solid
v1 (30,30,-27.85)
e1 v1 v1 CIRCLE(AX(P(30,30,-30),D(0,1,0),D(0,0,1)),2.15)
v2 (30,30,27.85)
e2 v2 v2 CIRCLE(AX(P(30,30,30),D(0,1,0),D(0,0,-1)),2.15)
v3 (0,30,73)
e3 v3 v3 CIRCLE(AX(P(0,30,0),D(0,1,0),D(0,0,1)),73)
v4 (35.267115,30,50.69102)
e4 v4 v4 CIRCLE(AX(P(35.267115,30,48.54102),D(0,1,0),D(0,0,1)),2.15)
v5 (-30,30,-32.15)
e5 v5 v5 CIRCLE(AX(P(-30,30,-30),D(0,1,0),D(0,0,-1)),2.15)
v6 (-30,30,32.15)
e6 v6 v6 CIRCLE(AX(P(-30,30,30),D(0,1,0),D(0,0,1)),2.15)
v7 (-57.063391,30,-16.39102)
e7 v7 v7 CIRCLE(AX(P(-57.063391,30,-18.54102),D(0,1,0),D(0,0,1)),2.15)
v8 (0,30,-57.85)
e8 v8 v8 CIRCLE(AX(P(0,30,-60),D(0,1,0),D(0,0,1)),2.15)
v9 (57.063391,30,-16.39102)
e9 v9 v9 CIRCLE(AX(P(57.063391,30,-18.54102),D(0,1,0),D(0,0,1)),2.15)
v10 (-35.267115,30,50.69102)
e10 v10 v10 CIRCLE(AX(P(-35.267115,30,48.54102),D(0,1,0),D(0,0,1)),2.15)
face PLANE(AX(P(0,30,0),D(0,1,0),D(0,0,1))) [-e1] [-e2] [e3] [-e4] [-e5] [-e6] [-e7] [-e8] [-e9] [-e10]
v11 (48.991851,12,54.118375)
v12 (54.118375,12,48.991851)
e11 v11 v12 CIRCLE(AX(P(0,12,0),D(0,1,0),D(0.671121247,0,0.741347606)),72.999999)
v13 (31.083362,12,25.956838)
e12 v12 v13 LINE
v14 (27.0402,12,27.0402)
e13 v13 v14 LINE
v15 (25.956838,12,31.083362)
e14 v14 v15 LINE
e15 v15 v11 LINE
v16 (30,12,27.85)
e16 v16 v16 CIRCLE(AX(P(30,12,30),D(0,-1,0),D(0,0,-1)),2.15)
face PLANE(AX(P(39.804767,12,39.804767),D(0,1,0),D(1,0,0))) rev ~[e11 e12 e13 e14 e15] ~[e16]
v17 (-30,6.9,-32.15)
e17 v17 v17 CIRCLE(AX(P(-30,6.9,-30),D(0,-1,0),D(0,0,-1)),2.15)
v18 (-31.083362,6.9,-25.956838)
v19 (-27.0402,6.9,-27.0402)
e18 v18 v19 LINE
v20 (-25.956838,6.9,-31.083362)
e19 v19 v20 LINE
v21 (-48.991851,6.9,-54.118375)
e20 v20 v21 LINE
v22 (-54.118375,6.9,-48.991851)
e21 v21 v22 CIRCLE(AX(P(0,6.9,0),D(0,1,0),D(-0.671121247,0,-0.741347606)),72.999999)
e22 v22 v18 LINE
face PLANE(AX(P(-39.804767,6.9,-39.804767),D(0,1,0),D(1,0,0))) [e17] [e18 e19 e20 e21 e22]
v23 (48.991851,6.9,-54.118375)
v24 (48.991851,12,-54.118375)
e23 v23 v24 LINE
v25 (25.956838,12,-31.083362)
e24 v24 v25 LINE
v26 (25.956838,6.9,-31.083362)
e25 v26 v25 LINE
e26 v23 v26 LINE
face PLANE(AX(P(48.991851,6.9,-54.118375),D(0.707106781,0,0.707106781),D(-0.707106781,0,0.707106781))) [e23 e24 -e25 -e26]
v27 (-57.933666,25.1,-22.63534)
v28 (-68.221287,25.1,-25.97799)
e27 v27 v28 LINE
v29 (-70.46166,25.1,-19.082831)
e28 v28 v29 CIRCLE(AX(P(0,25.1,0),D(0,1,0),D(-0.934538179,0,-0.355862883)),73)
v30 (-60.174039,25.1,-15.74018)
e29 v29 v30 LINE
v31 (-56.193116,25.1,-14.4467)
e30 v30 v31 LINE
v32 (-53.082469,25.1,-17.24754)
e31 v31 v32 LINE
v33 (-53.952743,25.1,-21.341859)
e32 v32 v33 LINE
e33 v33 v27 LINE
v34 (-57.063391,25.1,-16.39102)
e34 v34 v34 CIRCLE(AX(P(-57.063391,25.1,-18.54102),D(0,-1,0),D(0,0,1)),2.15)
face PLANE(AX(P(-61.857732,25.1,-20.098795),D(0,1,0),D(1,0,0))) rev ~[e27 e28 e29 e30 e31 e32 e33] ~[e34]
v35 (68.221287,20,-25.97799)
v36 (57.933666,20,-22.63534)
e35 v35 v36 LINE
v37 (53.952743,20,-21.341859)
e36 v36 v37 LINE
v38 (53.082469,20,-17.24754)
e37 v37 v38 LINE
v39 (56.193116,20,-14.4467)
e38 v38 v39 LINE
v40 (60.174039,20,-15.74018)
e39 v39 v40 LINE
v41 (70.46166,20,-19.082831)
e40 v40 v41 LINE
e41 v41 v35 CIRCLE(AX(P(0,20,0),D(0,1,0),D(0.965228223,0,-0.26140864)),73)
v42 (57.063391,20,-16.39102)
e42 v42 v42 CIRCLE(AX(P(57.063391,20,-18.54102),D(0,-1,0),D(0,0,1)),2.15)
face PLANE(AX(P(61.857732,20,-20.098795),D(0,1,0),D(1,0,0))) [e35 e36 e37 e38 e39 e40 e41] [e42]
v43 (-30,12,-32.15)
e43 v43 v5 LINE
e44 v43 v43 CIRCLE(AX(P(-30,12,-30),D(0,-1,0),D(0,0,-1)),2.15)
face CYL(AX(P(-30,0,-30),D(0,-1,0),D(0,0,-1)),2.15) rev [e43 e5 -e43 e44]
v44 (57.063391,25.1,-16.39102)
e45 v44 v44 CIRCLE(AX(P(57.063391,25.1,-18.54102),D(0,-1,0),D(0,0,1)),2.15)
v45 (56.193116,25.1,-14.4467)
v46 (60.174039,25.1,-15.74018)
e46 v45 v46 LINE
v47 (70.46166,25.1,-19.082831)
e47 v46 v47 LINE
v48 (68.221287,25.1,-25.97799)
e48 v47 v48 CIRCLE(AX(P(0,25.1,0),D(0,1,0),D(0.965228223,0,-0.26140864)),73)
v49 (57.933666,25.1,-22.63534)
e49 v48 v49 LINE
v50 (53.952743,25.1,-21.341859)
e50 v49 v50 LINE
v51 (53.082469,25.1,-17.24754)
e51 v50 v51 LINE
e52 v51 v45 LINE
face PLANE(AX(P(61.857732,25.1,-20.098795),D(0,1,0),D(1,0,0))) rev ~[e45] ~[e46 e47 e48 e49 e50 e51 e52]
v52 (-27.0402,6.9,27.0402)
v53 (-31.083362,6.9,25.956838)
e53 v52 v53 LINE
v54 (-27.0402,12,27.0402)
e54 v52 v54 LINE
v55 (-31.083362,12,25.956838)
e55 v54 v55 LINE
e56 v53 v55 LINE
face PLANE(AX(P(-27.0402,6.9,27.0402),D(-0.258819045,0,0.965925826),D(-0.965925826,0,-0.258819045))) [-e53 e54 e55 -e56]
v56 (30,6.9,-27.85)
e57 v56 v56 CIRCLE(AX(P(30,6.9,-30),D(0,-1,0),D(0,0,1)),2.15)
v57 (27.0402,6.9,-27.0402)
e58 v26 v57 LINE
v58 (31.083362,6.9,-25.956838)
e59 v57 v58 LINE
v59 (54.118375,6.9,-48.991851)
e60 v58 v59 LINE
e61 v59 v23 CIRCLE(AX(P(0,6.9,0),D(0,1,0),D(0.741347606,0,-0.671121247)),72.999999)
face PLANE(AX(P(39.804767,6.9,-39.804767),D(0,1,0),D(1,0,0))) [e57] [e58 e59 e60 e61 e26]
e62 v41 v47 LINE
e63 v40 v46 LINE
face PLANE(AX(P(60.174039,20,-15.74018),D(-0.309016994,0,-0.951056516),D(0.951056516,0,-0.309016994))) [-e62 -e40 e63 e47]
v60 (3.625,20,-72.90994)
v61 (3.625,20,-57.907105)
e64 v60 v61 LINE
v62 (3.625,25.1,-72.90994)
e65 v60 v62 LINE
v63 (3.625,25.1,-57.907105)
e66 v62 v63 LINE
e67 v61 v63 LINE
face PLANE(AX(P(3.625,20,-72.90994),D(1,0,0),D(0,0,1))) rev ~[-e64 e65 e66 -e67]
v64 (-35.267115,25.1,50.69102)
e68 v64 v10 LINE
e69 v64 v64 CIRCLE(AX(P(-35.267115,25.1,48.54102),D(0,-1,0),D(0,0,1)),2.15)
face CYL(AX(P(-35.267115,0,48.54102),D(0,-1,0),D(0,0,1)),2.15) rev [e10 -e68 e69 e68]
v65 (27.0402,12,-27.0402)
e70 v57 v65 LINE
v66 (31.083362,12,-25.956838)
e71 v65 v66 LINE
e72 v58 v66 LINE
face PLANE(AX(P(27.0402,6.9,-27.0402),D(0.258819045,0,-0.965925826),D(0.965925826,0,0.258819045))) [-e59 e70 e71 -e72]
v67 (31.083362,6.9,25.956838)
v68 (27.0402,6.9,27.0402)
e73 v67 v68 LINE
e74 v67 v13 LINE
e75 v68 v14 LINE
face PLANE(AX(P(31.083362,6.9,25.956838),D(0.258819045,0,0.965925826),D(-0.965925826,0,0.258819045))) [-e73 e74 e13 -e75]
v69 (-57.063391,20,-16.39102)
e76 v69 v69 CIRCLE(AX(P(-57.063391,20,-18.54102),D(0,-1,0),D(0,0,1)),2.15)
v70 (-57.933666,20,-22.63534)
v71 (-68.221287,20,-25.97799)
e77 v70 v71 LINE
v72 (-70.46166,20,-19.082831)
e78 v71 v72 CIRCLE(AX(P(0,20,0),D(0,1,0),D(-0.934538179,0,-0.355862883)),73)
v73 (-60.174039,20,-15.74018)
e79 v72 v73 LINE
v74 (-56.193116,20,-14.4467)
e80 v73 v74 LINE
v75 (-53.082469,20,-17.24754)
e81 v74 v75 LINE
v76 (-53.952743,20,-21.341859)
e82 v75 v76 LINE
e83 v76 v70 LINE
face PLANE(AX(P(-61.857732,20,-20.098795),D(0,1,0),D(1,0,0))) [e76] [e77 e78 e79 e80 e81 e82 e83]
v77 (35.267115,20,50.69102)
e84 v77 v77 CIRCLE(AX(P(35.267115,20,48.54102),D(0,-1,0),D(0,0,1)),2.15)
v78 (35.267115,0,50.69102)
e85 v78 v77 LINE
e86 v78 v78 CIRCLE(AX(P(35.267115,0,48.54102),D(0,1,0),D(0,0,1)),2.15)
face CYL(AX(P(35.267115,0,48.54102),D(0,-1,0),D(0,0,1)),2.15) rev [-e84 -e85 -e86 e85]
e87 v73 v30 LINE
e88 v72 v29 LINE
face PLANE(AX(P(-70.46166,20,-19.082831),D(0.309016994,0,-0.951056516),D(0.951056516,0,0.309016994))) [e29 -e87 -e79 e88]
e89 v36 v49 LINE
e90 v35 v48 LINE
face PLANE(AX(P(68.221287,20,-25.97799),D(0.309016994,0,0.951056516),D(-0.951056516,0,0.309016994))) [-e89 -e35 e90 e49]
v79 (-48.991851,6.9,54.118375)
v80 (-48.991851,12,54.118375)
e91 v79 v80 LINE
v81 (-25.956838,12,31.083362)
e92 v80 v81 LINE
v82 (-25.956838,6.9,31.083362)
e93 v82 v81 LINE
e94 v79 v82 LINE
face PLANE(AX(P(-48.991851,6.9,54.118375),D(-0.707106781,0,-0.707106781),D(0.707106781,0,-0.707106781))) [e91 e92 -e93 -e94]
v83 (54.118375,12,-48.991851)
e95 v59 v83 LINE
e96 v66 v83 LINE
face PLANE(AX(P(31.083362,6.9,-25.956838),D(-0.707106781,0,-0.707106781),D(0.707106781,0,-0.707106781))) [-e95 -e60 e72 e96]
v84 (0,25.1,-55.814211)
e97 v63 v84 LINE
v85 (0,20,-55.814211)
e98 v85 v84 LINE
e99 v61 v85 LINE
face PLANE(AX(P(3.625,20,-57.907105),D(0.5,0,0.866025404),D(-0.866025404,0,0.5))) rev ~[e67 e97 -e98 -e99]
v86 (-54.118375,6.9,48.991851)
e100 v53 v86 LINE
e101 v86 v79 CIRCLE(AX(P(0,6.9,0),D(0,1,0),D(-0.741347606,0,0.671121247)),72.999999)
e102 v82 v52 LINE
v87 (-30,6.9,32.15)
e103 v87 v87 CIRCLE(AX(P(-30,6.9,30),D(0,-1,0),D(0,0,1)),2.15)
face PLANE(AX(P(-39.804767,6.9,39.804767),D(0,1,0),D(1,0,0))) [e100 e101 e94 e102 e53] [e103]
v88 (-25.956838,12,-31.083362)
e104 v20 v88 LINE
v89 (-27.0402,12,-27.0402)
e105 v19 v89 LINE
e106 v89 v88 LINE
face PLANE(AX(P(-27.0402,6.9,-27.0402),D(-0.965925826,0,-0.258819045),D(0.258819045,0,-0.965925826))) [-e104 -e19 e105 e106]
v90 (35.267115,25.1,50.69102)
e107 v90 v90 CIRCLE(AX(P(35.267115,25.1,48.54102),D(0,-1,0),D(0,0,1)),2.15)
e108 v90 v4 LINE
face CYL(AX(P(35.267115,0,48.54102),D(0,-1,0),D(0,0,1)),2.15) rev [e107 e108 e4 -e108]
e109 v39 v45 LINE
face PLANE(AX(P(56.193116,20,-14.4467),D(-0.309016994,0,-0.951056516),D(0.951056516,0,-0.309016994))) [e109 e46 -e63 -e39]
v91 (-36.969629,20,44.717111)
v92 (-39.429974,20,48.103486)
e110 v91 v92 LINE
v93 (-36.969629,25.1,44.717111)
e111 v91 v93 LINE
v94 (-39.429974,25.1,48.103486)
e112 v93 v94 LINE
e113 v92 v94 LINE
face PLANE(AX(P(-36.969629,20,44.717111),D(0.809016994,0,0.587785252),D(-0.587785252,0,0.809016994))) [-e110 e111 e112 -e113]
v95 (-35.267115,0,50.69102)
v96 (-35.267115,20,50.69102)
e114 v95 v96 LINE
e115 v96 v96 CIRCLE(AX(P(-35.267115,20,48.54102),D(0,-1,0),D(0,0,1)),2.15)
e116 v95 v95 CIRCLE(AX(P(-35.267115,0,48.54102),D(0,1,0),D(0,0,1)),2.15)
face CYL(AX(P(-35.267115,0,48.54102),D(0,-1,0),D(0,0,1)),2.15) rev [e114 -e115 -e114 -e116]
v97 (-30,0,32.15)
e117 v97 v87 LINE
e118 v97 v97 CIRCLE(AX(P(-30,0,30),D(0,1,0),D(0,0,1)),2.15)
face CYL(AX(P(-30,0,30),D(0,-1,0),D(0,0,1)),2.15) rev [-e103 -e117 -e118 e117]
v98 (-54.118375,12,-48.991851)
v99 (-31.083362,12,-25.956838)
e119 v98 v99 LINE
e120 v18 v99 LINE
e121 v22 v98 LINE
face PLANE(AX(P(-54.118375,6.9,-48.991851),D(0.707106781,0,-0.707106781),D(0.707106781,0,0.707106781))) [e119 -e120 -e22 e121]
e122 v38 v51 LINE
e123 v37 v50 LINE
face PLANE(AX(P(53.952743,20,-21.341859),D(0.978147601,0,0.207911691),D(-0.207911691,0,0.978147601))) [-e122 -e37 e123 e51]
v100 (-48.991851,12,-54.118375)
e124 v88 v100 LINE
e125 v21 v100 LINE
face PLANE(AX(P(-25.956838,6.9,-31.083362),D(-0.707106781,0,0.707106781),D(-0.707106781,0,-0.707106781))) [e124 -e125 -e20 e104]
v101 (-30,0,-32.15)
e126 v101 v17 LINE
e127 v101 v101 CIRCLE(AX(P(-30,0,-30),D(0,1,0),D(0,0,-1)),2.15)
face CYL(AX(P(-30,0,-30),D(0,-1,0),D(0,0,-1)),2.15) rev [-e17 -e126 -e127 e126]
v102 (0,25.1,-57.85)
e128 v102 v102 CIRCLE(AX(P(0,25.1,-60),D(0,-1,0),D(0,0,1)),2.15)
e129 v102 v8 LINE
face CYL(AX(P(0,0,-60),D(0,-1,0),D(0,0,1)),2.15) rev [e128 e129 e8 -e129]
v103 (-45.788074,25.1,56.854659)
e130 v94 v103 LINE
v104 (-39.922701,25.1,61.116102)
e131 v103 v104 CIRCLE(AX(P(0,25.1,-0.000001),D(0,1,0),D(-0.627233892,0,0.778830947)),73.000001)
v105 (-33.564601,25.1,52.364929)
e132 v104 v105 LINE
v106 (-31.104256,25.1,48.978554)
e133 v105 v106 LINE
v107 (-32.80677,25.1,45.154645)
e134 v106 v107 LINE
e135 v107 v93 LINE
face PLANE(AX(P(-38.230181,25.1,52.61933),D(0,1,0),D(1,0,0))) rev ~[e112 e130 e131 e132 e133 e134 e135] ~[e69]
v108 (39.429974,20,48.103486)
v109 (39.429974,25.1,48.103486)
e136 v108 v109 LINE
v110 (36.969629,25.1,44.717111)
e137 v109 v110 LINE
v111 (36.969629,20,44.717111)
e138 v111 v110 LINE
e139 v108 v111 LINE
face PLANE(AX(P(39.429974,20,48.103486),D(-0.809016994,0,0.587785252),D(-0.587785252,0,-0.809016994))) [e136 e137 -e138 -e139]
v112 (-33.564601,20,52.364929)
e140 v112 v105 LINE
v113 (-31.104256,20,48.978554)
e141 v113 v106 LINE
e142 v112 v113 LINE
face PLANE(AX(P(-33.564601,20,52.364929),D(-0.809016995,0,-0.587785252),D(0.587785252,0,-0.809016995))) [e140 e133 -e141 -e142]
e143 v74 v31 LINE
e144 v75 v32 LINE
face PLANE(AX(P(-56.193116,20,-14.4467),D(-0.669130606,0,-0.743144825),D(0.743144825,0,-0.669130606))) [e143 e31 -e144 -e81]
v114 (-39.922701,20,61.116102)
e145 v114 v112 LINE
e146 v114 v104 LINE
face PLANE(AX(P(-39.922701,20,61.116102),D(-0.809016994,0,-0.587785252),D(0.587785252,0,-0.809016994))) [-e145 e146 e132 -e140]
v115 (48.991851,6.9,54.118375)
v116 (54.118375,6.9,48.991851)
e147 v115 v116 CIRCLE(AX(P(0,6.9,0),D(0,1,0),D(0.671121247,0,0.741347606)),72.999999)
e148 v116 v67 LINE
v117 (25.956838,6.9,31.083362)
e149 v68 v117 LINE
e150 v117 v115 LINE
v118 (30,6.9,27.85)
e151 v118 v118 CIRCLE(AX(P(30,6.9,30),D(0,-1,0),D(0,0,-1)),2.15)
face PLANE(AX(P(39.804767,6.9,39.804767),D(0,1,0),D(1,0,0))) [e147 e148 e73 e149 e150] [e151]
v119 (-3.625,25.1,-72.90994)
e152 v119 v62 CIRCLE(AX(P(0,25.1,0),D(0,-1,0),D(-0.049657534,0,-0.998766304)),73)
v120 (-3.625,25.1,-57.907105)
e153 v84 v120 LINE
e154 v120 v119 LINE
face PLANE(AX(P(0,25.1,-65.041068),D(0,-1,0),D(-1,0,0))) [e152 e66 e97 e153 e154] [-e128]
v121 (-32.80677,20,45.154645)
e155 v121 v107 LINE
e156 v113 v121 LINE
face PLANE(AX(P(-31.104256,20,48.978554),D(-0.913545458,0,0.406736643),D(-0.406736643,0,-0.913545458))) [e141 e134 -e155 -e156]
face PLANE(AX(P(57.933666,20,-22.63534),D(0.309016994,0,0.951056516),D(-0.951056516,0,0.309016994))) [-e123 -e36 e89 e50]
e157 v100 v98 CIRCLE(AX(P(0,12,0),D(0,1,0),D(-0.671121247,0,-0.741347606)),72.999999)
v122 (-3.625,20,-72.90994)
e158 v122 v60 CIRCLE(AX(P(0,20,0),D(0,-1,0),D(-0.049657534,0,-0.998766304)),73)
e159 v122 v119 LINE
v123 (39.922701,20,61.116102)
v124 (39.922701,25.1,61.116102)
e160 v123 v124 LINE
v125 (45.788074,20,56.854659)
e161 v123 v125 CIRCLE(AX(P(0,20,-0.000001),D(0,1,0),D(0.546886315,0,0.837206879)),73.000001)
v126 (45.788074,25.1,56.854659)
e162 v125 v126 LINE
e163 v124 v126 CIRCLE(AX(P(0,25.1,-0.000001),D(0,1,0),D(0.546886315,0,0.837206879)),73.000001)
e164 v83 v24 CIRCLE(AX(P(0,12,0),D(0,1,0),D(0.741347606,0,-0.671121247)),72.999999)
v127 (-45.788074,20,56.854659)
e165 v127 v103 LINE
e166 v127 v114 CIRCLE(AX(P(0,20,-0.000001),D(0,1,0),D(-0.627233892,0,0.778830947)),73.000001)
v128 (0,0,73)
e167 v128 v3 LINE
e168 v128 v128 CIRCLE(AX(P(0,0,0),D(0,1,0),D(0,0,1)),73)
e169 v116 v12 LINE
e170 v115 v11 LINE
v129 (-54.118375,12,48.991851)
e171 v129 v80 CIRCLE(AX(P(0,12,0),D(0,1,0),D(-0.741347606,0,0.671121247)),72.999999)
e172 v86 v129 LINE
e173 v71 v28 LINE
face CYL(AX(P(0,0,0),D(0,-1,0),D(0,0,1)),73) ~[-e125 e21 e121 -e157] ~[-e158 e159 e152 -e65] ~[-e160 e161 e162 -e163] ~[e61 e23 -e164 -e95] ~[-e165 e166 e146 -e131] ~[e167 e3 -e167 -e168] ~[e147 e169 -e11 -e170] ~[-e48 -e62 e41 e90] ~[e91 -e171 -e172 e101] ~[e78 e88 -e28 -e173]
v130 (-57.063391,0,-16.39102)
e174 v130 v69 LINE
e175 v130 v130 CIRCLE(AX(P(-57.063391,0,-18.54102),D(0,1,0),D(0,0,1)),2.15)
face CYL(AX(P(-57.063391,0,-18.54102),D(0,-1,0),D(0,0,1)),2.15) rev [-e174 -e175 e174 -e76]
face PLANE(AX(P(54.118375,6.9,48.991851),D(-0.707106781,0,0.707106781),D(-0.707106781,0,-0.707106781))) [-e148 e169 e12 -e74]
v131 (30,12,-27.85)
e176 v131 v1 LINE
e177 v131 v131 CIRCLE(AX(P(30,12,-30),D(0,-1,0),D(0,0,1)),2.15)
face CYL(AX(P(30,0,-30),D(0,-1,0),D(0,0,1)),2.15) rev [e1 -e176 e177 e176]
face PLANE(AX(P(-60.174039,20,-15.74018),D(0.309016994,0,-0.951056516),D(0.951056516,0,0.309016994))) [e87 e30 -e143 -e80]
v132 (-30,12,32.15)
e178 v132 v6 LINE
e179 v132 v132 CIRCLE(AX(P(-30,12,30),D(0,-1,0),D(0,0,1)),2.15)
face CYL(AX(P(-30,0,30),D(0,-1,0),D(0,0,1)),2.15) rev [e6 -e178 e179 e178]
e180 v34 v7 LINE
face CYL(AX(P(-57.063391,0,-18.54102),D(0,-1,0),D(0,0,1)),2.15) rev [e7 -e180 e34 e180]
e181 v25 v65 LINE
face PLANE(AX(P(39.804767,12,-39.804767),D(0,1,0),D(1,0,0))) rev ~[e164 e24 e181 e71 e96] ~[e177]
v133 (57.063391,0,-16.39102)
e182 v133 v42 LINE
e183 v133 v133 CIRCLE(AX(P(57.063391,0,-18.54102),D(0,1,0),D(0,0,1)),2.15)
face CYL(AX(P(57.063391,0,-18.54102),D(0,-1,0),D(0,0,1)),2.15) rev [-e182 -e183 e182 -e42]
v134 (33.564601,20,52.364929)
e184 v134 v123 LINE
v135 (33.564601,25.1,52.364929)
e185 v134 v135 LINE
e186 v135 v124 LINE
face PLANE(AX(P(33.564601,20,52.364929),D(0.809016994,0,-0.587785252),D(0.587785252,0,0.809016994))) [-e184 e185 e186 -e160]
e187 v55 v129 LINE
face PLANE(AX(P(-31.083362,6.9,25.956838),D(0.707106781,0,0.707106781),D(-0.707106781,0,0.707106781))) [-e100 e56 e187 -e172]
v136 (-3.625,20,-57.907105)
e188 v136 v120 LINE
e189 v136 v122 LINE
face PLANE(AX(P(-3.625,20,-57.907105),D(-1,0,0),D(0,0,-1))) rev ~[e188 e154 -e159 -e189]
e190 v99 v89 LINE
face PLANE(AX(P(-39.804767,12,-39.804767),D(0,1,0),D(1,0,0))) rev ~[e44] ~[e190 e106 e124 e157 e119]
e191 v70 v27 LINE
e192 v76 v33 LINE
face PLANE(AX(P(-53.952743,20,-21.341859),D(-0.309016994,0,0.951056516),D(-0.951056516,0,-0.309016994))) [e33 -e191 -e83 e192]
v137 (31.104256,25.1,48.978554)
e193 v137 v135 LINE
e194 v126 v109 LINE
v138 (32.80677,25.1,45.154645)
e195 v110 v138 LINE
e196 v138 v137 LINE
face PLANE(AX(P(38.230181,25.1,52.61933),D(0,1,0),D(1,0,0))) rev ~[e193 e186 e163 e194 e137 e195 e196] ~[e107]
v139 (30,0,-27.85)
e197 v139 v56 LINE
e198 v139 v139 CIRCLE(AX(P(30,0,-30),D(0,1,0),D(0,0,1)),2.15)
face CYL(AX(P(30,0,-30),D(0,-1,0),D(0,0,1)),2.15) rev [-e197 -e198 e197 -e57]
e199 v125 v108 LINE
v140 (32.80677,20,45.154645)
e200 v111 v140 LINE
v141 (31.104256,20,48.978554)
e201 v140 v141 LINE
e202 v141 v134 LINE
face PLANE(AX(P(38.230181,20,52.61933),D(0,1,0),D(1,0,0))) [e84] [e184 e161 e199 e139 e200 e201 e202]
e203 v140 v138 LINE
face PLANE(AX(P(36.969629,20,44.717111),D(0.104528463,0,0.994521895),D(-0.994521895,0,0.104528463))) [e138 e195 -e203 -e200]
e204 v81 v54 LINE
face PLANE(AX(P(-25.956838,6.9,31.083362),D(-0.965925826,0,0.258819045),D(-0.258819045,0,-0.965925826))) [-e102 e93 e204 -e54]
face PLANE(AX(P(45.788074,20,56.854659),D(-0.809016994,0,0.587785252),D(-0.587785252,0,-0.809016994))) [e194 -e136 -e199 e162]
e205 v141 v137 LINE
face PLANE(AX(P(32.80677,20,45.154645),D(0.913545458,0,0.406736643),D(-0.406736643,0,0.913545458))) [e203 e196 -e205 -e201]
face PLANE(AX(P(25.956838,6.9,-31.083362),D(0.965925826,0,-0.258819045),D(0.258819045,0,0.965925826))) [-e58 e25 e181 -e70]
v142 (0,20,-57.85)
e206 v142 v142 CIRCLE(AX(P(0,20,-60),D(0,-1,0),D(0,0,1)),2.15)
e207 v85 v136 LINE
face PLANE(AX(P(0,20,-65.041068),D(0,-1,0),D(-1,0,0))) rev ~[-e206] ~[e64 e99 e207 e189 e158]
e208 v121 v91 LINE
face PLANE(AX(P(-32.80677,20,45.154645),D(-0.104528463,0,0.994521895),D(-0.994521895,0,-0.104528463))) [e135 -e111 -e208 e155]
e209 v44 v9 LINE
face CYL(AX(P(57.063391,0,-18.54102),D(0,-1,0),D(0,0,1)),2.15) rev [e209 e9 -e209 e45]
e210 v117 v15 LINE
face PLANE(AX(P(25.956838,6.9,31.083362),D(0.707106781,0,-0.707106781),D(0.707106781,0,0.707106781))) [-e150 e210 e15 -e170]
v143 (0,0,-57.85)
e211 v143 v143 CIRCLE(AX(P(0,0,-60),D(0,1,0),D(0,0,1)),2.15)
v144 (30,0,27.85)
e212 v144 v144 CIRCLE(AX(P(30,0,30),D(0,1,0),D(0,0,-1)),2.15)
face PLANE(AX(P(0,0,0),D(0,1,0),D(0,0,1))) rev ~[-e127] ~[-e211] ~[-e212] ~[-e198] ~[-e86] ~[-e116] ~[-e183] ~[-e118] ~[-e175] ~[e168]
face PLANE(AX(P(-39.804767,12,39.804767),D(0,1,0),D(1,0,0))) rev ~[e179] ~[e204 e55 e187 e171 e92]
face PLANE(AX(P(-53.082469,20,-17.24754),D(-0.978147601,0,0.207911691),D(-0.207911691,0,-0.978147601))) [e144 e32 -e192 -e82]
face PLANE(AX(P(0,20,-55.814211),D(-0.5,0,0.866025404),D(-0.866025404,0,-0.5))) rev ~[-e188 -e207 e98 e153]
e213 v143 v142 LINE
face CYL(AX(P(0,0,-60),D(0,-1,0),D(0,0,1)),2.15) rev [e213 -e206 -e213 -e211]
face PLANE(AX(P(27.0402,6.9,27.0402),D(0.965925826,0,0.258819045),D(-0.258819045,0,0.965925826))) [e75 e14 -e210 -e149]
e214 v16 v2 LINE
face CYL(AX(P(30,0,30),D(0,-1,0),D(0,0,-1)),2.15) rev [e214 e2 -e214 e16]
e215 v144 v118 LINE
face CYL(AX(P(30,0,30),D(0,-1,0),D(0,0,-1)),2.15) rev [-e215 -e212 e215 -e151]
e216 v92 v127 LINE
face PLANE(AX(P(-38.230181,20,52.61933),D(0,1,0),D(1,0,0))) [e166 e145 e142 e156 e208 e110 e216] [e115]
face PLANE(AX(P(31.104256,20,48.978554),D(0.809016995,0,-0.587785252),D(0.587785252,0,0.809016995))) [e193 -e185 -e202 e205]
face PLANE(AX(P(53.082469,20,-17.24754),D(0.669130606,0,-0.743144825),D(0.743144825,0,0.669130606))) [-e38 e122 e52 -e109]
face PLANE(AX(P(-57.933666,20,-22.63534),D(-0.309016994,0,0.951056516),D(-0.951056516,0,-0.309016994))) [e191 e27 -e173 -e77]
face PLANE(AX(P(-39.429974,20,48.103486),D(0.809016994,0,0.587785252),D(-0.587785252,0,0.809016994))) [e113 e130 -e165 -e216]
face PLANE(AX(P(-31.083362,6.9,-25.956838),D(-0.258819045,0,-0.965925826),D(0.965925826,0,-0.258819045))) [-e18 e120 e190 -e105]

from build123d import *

# Parameters (mm, degrees)
SKETCH1_R           = 73
SKETCH1_R_2         = 2.15
BOSS_EXTRUDE1_DEPTH = 30
CUT_EXTRUDE1_START  = -5.1
CUT_EXTRUDE1_DEPTH  = 5.1
CUT_EXTRUDE2_DEPTH  = 5.1


with BuildPart() as part:
    # Sketch1 → Boss-Extrude1 (new body)
    with BuildSketch(Plane(origin=(0, 0, 0), x_dir=(1, 0, 0), z_dir=(0, 1, 0))):
        with Locations(Location((0, 0, 0), (0, 0, 270))):
            Circle(SKETCH1_R)
        with Locations(Location((30, 30, 0), (0, 0, 270))):
            Circle(SKETCH1_R_2, mode=Mode.SUBTRACT)
        with Locations(Location((-30, 30, 0), (0, 0, 90))):
            Circle(SKETCH1_R_2, mode=Mode.SUBTRACT)
        with Locations(Location((30, -30, 0), (0, 0, 90))):
            Circle(SKETCH1_R_2, mode=Mode.SUBTRACT)
        with Locations(Location((-30, -30, 0), (0, 0, 270))):
            Circle(SKETCH1_R_2, mode=Mode.SUBTRACT)
        with Locations(Location((0, 60, 0), (0, 0, 270))):
            Circle(SKETCH1_R_2, mode=Mode.SUBTRACT)
        with Locations(Location((57.063390978, 18.541019662, 0), (0, 0, 270))):
            Circle(SKETCH1_R_2, mode=Mode.SUBTRACT)
        with Locations(Location((35.267115138, -48.541019662, 0), (0, 0, 270))):
            Circle(SKETCH1_R_2, mode=Mode.SUBTRACT)
        with Locations(Location((-35.267115138, -48.541019662, 0), (0, 0, 270))):
            Circle(SKETCH1_R_2, mode=Mode.SUBTRACT)
        with Locations(Location((-57.063390978, 18.541019662, 0), (0, 0, 270))):
            Circle(SKETCH1_R_2, mode=Mode.SUBTRACT)
    extrude(amount=BOSS_EXTRUDE1_DEPTH)

    # Sketch2 → Cut-Extrude1 (cut)
    with BuildSketch(Plane(origin=(0, 12, 0), x_dir=(1, 0, 0), z_dir=(0, 1, 0)).offset(CUT_EXTRUDE1_START)):
        with BuildLine():
            Line((-27.040199894, 27.040199894), (-25.956837865, 31.083362029))
            Line((-25.956837865, 31.083362029), (-28.916637971, 34.043162135))
            Line((-28.916637971, 34.043162135), (-48.991851025, 54.118375189))
            ThreePointArc((-48.991851025, 54.118375189), (-51.618795027, 51.618795027), (-54.118375189, 48.991851025))
            Line((-54.118375189, 48.991851025), (-34.043162135, 28.916637971))
            Line((-34.043162135, 28.916637971), (-31.083362029, 25.956837865))
            Line((-31.083362029, 25.956837865), (-27.040199894, 27.040199894))
        make_face()
        with BuildLine():
            Line((28.916637971, 34.043162135), (25.956837865, 31.083362029))
            Line((25.956837865, 31.083362029), (27.040199894, 27.040199894))
            Line((27.040199894, 27.040199894), (31.083362029, 25.956837865))
            Line((31.083362029, 25.956837865), (34.043162135, 28.916637971))
            Line((34.043162135, 28.916637971), (54.118375189, 48.991851025))
            ThreePointArc((54.118375189, 48.991851025), (51.618795027, 51.618795027), (48.991851025, 54.118375189))
            Line((48.991851025, 54.118375189), (28.916637971, 34.043162135))
        make_face()
        with BuildLine():
            Line((34.043162135, -28.916637971), (31.083362029, -25.956837865))
            Line((31.083362029, -25.956837865), (27.040199894, -27.040199894))
            Line((27.040199894, -27.040199894), (25.956837865, -31.083362029))
            Line((25.956837865, -31.083362029), (28.916637971, -34.043162135))
            Line((28.916637971, -34.043162135), (48.991851025, -54.118375189))
            ThreePointArc((48.991851025, -54.118375189), (51.618795027, -51.618795027), (54.118375189, -48.991851025))
            Line((54.118375189, -48.991851025), (34.043162135, -28.916637971))
        make_face()
        with BuildLine():
            Line((-28.916637971, -34.043162135), (-25.956837865, -31.083362029))
            Line((-25.956837865, -31.083362029), (-27.040199894, -27.040199894))
            Line((-27.040199894, -27.040199894), (-31.083362029, -25.956837865))
            Line((-31.083362029, -25.956837865), (-34.043162135, -28.916637971))
            Line((-34.043162135, -28.916637971), (-54.118375189, -48.991851025))
            ThreePointArc((-54.118375189, -48.991851025), (-51.618795027, -51.618795027), (-48.991851025, -54.118375189))
            Line((-48.991851025, -54.118375189), (-28.916637971, -34.043162135))
        make_face()
    extrude(amount=CUT_EXTRUDE1_DEPTH, mode=Mode.SUBTRACT)

    # Sketch4 → Cut-Extrude2 (cut)
    with BuildSketch(Plane(origin=(0, 20, 0), x_dir=(1, 0, 0), z_dir=(0, 1, 0))):
        with BuildLine():
            Line((-3.625, 62.092894726), (-3.625, 72.909940166))
            ThreePointArc((-3.625, 72.909940166), (0, 73), (3.625, 72.909940166))
            Line((3.625, 72.909940166), (3.625, 62.092894726))
            Line((3.625, 62.092894726), (3.625, 57.907105274))
            Line((3.625, 57.907105274), (0, 55.814210548))
            Line((0, 55.814210548), (-3.625, 57.907105274))
            Line((-3.625, 57.907105274), (-3.625, 62.092894726))
        make_face()
        with BuildLine():
            Line((56.193116415, 14.446699753), (60.174038749, 15.740179829))
            Line((60.174038749, 15.740179829), (70.461660302, 19.082830699))
            ThreePointArc((70.461660302, 19.082830699), (69.42712569, 22.558240589), (68.221287093, 25.977990442))
            Line((68.221287093, 25.977990442), (57.93366554, 22.635339572))
            Line((57.93366554, 22.635339572), (53.952743206, 21.341859496))
            Line((53.952743206, 21.341859496), (53.082468644, 17.247539587))
            Line((53.082468644, 17.247539587), (56.193116415, 14.446699753))
        make_face()
        with BuildLine():
            Line((31.104255879, -48.978553801), (33.564601187, -52.364928603))
            Line((33.564601187, -52.364928603), (39.92270097, -61.116102193))
            ThreePointArc((39.92270097, -61.116102193), (42.908323417, -59.058240589), (45.78807418, -56.854659114))
            Line((45.78807418, -56.854659114), (39.429974397, -48.103485524))
            Line((39.429974397, -48.103485524), (36.969629088, -44.717110722))
            Line((36.969629088, -44.717110722), (32.806769829, -45.154644861))
            Line((32.806769829, -45.154644861), (31.104255879, -48.978553801))
        make_face()
        with BuildLine():
            Line((-36.969629088, -44.717110722), (-39.429974397, -48.103485524))
            Line((-39.429974397, -48.103485524), (-45.78807418, -56.854659114))
            ThreePointArc((-45.78807418, -56.854659114), (-42.908323417, -59.058240589), (-39.92270097, -61.116102193))
            Line((-39.92270097, -61.116102193), (-33.564601187, -52.364928603))
            Line((-33.564601187, -52.364928603), (-31.104255879, -48.978553801))
            Line((-31.104255879, -48.978553801), (-32.806769829, -45.154644861))
            Line((-32.806769829, -45.154644861), (-36.969629088, -44.717110722))
        make_face()
        with BuildLine():
            Line((-53.952743206, 21.341859496), (-57.93366554, 22.635339572))
            Line((-57.93366554, 22.635339572), (-68.221287093, 25.977990442))
            ThreePointArc((-68.221287093, 25.977990442), (-69.42712569, 22.558240589), (-70.461660302, 19.082830699))
            Line((-70.461660302, 19.082830699), (-60.174038749, 15.740179829))
            Line((-60.174038749, 15.740179829), (-56.193116415, 14.446699753))
            Line((-56.193116415, 14.446699753), (-53.082468644, 17.247539587))
            Line((-53.082468644, 17.247539587), (-53.952743206, 21.341859496))
        make_face()
    extrude(amount=CUT_EXTRUDE2_DEPTH, mode=Mode.SUBTRACT)


solid = part.part
